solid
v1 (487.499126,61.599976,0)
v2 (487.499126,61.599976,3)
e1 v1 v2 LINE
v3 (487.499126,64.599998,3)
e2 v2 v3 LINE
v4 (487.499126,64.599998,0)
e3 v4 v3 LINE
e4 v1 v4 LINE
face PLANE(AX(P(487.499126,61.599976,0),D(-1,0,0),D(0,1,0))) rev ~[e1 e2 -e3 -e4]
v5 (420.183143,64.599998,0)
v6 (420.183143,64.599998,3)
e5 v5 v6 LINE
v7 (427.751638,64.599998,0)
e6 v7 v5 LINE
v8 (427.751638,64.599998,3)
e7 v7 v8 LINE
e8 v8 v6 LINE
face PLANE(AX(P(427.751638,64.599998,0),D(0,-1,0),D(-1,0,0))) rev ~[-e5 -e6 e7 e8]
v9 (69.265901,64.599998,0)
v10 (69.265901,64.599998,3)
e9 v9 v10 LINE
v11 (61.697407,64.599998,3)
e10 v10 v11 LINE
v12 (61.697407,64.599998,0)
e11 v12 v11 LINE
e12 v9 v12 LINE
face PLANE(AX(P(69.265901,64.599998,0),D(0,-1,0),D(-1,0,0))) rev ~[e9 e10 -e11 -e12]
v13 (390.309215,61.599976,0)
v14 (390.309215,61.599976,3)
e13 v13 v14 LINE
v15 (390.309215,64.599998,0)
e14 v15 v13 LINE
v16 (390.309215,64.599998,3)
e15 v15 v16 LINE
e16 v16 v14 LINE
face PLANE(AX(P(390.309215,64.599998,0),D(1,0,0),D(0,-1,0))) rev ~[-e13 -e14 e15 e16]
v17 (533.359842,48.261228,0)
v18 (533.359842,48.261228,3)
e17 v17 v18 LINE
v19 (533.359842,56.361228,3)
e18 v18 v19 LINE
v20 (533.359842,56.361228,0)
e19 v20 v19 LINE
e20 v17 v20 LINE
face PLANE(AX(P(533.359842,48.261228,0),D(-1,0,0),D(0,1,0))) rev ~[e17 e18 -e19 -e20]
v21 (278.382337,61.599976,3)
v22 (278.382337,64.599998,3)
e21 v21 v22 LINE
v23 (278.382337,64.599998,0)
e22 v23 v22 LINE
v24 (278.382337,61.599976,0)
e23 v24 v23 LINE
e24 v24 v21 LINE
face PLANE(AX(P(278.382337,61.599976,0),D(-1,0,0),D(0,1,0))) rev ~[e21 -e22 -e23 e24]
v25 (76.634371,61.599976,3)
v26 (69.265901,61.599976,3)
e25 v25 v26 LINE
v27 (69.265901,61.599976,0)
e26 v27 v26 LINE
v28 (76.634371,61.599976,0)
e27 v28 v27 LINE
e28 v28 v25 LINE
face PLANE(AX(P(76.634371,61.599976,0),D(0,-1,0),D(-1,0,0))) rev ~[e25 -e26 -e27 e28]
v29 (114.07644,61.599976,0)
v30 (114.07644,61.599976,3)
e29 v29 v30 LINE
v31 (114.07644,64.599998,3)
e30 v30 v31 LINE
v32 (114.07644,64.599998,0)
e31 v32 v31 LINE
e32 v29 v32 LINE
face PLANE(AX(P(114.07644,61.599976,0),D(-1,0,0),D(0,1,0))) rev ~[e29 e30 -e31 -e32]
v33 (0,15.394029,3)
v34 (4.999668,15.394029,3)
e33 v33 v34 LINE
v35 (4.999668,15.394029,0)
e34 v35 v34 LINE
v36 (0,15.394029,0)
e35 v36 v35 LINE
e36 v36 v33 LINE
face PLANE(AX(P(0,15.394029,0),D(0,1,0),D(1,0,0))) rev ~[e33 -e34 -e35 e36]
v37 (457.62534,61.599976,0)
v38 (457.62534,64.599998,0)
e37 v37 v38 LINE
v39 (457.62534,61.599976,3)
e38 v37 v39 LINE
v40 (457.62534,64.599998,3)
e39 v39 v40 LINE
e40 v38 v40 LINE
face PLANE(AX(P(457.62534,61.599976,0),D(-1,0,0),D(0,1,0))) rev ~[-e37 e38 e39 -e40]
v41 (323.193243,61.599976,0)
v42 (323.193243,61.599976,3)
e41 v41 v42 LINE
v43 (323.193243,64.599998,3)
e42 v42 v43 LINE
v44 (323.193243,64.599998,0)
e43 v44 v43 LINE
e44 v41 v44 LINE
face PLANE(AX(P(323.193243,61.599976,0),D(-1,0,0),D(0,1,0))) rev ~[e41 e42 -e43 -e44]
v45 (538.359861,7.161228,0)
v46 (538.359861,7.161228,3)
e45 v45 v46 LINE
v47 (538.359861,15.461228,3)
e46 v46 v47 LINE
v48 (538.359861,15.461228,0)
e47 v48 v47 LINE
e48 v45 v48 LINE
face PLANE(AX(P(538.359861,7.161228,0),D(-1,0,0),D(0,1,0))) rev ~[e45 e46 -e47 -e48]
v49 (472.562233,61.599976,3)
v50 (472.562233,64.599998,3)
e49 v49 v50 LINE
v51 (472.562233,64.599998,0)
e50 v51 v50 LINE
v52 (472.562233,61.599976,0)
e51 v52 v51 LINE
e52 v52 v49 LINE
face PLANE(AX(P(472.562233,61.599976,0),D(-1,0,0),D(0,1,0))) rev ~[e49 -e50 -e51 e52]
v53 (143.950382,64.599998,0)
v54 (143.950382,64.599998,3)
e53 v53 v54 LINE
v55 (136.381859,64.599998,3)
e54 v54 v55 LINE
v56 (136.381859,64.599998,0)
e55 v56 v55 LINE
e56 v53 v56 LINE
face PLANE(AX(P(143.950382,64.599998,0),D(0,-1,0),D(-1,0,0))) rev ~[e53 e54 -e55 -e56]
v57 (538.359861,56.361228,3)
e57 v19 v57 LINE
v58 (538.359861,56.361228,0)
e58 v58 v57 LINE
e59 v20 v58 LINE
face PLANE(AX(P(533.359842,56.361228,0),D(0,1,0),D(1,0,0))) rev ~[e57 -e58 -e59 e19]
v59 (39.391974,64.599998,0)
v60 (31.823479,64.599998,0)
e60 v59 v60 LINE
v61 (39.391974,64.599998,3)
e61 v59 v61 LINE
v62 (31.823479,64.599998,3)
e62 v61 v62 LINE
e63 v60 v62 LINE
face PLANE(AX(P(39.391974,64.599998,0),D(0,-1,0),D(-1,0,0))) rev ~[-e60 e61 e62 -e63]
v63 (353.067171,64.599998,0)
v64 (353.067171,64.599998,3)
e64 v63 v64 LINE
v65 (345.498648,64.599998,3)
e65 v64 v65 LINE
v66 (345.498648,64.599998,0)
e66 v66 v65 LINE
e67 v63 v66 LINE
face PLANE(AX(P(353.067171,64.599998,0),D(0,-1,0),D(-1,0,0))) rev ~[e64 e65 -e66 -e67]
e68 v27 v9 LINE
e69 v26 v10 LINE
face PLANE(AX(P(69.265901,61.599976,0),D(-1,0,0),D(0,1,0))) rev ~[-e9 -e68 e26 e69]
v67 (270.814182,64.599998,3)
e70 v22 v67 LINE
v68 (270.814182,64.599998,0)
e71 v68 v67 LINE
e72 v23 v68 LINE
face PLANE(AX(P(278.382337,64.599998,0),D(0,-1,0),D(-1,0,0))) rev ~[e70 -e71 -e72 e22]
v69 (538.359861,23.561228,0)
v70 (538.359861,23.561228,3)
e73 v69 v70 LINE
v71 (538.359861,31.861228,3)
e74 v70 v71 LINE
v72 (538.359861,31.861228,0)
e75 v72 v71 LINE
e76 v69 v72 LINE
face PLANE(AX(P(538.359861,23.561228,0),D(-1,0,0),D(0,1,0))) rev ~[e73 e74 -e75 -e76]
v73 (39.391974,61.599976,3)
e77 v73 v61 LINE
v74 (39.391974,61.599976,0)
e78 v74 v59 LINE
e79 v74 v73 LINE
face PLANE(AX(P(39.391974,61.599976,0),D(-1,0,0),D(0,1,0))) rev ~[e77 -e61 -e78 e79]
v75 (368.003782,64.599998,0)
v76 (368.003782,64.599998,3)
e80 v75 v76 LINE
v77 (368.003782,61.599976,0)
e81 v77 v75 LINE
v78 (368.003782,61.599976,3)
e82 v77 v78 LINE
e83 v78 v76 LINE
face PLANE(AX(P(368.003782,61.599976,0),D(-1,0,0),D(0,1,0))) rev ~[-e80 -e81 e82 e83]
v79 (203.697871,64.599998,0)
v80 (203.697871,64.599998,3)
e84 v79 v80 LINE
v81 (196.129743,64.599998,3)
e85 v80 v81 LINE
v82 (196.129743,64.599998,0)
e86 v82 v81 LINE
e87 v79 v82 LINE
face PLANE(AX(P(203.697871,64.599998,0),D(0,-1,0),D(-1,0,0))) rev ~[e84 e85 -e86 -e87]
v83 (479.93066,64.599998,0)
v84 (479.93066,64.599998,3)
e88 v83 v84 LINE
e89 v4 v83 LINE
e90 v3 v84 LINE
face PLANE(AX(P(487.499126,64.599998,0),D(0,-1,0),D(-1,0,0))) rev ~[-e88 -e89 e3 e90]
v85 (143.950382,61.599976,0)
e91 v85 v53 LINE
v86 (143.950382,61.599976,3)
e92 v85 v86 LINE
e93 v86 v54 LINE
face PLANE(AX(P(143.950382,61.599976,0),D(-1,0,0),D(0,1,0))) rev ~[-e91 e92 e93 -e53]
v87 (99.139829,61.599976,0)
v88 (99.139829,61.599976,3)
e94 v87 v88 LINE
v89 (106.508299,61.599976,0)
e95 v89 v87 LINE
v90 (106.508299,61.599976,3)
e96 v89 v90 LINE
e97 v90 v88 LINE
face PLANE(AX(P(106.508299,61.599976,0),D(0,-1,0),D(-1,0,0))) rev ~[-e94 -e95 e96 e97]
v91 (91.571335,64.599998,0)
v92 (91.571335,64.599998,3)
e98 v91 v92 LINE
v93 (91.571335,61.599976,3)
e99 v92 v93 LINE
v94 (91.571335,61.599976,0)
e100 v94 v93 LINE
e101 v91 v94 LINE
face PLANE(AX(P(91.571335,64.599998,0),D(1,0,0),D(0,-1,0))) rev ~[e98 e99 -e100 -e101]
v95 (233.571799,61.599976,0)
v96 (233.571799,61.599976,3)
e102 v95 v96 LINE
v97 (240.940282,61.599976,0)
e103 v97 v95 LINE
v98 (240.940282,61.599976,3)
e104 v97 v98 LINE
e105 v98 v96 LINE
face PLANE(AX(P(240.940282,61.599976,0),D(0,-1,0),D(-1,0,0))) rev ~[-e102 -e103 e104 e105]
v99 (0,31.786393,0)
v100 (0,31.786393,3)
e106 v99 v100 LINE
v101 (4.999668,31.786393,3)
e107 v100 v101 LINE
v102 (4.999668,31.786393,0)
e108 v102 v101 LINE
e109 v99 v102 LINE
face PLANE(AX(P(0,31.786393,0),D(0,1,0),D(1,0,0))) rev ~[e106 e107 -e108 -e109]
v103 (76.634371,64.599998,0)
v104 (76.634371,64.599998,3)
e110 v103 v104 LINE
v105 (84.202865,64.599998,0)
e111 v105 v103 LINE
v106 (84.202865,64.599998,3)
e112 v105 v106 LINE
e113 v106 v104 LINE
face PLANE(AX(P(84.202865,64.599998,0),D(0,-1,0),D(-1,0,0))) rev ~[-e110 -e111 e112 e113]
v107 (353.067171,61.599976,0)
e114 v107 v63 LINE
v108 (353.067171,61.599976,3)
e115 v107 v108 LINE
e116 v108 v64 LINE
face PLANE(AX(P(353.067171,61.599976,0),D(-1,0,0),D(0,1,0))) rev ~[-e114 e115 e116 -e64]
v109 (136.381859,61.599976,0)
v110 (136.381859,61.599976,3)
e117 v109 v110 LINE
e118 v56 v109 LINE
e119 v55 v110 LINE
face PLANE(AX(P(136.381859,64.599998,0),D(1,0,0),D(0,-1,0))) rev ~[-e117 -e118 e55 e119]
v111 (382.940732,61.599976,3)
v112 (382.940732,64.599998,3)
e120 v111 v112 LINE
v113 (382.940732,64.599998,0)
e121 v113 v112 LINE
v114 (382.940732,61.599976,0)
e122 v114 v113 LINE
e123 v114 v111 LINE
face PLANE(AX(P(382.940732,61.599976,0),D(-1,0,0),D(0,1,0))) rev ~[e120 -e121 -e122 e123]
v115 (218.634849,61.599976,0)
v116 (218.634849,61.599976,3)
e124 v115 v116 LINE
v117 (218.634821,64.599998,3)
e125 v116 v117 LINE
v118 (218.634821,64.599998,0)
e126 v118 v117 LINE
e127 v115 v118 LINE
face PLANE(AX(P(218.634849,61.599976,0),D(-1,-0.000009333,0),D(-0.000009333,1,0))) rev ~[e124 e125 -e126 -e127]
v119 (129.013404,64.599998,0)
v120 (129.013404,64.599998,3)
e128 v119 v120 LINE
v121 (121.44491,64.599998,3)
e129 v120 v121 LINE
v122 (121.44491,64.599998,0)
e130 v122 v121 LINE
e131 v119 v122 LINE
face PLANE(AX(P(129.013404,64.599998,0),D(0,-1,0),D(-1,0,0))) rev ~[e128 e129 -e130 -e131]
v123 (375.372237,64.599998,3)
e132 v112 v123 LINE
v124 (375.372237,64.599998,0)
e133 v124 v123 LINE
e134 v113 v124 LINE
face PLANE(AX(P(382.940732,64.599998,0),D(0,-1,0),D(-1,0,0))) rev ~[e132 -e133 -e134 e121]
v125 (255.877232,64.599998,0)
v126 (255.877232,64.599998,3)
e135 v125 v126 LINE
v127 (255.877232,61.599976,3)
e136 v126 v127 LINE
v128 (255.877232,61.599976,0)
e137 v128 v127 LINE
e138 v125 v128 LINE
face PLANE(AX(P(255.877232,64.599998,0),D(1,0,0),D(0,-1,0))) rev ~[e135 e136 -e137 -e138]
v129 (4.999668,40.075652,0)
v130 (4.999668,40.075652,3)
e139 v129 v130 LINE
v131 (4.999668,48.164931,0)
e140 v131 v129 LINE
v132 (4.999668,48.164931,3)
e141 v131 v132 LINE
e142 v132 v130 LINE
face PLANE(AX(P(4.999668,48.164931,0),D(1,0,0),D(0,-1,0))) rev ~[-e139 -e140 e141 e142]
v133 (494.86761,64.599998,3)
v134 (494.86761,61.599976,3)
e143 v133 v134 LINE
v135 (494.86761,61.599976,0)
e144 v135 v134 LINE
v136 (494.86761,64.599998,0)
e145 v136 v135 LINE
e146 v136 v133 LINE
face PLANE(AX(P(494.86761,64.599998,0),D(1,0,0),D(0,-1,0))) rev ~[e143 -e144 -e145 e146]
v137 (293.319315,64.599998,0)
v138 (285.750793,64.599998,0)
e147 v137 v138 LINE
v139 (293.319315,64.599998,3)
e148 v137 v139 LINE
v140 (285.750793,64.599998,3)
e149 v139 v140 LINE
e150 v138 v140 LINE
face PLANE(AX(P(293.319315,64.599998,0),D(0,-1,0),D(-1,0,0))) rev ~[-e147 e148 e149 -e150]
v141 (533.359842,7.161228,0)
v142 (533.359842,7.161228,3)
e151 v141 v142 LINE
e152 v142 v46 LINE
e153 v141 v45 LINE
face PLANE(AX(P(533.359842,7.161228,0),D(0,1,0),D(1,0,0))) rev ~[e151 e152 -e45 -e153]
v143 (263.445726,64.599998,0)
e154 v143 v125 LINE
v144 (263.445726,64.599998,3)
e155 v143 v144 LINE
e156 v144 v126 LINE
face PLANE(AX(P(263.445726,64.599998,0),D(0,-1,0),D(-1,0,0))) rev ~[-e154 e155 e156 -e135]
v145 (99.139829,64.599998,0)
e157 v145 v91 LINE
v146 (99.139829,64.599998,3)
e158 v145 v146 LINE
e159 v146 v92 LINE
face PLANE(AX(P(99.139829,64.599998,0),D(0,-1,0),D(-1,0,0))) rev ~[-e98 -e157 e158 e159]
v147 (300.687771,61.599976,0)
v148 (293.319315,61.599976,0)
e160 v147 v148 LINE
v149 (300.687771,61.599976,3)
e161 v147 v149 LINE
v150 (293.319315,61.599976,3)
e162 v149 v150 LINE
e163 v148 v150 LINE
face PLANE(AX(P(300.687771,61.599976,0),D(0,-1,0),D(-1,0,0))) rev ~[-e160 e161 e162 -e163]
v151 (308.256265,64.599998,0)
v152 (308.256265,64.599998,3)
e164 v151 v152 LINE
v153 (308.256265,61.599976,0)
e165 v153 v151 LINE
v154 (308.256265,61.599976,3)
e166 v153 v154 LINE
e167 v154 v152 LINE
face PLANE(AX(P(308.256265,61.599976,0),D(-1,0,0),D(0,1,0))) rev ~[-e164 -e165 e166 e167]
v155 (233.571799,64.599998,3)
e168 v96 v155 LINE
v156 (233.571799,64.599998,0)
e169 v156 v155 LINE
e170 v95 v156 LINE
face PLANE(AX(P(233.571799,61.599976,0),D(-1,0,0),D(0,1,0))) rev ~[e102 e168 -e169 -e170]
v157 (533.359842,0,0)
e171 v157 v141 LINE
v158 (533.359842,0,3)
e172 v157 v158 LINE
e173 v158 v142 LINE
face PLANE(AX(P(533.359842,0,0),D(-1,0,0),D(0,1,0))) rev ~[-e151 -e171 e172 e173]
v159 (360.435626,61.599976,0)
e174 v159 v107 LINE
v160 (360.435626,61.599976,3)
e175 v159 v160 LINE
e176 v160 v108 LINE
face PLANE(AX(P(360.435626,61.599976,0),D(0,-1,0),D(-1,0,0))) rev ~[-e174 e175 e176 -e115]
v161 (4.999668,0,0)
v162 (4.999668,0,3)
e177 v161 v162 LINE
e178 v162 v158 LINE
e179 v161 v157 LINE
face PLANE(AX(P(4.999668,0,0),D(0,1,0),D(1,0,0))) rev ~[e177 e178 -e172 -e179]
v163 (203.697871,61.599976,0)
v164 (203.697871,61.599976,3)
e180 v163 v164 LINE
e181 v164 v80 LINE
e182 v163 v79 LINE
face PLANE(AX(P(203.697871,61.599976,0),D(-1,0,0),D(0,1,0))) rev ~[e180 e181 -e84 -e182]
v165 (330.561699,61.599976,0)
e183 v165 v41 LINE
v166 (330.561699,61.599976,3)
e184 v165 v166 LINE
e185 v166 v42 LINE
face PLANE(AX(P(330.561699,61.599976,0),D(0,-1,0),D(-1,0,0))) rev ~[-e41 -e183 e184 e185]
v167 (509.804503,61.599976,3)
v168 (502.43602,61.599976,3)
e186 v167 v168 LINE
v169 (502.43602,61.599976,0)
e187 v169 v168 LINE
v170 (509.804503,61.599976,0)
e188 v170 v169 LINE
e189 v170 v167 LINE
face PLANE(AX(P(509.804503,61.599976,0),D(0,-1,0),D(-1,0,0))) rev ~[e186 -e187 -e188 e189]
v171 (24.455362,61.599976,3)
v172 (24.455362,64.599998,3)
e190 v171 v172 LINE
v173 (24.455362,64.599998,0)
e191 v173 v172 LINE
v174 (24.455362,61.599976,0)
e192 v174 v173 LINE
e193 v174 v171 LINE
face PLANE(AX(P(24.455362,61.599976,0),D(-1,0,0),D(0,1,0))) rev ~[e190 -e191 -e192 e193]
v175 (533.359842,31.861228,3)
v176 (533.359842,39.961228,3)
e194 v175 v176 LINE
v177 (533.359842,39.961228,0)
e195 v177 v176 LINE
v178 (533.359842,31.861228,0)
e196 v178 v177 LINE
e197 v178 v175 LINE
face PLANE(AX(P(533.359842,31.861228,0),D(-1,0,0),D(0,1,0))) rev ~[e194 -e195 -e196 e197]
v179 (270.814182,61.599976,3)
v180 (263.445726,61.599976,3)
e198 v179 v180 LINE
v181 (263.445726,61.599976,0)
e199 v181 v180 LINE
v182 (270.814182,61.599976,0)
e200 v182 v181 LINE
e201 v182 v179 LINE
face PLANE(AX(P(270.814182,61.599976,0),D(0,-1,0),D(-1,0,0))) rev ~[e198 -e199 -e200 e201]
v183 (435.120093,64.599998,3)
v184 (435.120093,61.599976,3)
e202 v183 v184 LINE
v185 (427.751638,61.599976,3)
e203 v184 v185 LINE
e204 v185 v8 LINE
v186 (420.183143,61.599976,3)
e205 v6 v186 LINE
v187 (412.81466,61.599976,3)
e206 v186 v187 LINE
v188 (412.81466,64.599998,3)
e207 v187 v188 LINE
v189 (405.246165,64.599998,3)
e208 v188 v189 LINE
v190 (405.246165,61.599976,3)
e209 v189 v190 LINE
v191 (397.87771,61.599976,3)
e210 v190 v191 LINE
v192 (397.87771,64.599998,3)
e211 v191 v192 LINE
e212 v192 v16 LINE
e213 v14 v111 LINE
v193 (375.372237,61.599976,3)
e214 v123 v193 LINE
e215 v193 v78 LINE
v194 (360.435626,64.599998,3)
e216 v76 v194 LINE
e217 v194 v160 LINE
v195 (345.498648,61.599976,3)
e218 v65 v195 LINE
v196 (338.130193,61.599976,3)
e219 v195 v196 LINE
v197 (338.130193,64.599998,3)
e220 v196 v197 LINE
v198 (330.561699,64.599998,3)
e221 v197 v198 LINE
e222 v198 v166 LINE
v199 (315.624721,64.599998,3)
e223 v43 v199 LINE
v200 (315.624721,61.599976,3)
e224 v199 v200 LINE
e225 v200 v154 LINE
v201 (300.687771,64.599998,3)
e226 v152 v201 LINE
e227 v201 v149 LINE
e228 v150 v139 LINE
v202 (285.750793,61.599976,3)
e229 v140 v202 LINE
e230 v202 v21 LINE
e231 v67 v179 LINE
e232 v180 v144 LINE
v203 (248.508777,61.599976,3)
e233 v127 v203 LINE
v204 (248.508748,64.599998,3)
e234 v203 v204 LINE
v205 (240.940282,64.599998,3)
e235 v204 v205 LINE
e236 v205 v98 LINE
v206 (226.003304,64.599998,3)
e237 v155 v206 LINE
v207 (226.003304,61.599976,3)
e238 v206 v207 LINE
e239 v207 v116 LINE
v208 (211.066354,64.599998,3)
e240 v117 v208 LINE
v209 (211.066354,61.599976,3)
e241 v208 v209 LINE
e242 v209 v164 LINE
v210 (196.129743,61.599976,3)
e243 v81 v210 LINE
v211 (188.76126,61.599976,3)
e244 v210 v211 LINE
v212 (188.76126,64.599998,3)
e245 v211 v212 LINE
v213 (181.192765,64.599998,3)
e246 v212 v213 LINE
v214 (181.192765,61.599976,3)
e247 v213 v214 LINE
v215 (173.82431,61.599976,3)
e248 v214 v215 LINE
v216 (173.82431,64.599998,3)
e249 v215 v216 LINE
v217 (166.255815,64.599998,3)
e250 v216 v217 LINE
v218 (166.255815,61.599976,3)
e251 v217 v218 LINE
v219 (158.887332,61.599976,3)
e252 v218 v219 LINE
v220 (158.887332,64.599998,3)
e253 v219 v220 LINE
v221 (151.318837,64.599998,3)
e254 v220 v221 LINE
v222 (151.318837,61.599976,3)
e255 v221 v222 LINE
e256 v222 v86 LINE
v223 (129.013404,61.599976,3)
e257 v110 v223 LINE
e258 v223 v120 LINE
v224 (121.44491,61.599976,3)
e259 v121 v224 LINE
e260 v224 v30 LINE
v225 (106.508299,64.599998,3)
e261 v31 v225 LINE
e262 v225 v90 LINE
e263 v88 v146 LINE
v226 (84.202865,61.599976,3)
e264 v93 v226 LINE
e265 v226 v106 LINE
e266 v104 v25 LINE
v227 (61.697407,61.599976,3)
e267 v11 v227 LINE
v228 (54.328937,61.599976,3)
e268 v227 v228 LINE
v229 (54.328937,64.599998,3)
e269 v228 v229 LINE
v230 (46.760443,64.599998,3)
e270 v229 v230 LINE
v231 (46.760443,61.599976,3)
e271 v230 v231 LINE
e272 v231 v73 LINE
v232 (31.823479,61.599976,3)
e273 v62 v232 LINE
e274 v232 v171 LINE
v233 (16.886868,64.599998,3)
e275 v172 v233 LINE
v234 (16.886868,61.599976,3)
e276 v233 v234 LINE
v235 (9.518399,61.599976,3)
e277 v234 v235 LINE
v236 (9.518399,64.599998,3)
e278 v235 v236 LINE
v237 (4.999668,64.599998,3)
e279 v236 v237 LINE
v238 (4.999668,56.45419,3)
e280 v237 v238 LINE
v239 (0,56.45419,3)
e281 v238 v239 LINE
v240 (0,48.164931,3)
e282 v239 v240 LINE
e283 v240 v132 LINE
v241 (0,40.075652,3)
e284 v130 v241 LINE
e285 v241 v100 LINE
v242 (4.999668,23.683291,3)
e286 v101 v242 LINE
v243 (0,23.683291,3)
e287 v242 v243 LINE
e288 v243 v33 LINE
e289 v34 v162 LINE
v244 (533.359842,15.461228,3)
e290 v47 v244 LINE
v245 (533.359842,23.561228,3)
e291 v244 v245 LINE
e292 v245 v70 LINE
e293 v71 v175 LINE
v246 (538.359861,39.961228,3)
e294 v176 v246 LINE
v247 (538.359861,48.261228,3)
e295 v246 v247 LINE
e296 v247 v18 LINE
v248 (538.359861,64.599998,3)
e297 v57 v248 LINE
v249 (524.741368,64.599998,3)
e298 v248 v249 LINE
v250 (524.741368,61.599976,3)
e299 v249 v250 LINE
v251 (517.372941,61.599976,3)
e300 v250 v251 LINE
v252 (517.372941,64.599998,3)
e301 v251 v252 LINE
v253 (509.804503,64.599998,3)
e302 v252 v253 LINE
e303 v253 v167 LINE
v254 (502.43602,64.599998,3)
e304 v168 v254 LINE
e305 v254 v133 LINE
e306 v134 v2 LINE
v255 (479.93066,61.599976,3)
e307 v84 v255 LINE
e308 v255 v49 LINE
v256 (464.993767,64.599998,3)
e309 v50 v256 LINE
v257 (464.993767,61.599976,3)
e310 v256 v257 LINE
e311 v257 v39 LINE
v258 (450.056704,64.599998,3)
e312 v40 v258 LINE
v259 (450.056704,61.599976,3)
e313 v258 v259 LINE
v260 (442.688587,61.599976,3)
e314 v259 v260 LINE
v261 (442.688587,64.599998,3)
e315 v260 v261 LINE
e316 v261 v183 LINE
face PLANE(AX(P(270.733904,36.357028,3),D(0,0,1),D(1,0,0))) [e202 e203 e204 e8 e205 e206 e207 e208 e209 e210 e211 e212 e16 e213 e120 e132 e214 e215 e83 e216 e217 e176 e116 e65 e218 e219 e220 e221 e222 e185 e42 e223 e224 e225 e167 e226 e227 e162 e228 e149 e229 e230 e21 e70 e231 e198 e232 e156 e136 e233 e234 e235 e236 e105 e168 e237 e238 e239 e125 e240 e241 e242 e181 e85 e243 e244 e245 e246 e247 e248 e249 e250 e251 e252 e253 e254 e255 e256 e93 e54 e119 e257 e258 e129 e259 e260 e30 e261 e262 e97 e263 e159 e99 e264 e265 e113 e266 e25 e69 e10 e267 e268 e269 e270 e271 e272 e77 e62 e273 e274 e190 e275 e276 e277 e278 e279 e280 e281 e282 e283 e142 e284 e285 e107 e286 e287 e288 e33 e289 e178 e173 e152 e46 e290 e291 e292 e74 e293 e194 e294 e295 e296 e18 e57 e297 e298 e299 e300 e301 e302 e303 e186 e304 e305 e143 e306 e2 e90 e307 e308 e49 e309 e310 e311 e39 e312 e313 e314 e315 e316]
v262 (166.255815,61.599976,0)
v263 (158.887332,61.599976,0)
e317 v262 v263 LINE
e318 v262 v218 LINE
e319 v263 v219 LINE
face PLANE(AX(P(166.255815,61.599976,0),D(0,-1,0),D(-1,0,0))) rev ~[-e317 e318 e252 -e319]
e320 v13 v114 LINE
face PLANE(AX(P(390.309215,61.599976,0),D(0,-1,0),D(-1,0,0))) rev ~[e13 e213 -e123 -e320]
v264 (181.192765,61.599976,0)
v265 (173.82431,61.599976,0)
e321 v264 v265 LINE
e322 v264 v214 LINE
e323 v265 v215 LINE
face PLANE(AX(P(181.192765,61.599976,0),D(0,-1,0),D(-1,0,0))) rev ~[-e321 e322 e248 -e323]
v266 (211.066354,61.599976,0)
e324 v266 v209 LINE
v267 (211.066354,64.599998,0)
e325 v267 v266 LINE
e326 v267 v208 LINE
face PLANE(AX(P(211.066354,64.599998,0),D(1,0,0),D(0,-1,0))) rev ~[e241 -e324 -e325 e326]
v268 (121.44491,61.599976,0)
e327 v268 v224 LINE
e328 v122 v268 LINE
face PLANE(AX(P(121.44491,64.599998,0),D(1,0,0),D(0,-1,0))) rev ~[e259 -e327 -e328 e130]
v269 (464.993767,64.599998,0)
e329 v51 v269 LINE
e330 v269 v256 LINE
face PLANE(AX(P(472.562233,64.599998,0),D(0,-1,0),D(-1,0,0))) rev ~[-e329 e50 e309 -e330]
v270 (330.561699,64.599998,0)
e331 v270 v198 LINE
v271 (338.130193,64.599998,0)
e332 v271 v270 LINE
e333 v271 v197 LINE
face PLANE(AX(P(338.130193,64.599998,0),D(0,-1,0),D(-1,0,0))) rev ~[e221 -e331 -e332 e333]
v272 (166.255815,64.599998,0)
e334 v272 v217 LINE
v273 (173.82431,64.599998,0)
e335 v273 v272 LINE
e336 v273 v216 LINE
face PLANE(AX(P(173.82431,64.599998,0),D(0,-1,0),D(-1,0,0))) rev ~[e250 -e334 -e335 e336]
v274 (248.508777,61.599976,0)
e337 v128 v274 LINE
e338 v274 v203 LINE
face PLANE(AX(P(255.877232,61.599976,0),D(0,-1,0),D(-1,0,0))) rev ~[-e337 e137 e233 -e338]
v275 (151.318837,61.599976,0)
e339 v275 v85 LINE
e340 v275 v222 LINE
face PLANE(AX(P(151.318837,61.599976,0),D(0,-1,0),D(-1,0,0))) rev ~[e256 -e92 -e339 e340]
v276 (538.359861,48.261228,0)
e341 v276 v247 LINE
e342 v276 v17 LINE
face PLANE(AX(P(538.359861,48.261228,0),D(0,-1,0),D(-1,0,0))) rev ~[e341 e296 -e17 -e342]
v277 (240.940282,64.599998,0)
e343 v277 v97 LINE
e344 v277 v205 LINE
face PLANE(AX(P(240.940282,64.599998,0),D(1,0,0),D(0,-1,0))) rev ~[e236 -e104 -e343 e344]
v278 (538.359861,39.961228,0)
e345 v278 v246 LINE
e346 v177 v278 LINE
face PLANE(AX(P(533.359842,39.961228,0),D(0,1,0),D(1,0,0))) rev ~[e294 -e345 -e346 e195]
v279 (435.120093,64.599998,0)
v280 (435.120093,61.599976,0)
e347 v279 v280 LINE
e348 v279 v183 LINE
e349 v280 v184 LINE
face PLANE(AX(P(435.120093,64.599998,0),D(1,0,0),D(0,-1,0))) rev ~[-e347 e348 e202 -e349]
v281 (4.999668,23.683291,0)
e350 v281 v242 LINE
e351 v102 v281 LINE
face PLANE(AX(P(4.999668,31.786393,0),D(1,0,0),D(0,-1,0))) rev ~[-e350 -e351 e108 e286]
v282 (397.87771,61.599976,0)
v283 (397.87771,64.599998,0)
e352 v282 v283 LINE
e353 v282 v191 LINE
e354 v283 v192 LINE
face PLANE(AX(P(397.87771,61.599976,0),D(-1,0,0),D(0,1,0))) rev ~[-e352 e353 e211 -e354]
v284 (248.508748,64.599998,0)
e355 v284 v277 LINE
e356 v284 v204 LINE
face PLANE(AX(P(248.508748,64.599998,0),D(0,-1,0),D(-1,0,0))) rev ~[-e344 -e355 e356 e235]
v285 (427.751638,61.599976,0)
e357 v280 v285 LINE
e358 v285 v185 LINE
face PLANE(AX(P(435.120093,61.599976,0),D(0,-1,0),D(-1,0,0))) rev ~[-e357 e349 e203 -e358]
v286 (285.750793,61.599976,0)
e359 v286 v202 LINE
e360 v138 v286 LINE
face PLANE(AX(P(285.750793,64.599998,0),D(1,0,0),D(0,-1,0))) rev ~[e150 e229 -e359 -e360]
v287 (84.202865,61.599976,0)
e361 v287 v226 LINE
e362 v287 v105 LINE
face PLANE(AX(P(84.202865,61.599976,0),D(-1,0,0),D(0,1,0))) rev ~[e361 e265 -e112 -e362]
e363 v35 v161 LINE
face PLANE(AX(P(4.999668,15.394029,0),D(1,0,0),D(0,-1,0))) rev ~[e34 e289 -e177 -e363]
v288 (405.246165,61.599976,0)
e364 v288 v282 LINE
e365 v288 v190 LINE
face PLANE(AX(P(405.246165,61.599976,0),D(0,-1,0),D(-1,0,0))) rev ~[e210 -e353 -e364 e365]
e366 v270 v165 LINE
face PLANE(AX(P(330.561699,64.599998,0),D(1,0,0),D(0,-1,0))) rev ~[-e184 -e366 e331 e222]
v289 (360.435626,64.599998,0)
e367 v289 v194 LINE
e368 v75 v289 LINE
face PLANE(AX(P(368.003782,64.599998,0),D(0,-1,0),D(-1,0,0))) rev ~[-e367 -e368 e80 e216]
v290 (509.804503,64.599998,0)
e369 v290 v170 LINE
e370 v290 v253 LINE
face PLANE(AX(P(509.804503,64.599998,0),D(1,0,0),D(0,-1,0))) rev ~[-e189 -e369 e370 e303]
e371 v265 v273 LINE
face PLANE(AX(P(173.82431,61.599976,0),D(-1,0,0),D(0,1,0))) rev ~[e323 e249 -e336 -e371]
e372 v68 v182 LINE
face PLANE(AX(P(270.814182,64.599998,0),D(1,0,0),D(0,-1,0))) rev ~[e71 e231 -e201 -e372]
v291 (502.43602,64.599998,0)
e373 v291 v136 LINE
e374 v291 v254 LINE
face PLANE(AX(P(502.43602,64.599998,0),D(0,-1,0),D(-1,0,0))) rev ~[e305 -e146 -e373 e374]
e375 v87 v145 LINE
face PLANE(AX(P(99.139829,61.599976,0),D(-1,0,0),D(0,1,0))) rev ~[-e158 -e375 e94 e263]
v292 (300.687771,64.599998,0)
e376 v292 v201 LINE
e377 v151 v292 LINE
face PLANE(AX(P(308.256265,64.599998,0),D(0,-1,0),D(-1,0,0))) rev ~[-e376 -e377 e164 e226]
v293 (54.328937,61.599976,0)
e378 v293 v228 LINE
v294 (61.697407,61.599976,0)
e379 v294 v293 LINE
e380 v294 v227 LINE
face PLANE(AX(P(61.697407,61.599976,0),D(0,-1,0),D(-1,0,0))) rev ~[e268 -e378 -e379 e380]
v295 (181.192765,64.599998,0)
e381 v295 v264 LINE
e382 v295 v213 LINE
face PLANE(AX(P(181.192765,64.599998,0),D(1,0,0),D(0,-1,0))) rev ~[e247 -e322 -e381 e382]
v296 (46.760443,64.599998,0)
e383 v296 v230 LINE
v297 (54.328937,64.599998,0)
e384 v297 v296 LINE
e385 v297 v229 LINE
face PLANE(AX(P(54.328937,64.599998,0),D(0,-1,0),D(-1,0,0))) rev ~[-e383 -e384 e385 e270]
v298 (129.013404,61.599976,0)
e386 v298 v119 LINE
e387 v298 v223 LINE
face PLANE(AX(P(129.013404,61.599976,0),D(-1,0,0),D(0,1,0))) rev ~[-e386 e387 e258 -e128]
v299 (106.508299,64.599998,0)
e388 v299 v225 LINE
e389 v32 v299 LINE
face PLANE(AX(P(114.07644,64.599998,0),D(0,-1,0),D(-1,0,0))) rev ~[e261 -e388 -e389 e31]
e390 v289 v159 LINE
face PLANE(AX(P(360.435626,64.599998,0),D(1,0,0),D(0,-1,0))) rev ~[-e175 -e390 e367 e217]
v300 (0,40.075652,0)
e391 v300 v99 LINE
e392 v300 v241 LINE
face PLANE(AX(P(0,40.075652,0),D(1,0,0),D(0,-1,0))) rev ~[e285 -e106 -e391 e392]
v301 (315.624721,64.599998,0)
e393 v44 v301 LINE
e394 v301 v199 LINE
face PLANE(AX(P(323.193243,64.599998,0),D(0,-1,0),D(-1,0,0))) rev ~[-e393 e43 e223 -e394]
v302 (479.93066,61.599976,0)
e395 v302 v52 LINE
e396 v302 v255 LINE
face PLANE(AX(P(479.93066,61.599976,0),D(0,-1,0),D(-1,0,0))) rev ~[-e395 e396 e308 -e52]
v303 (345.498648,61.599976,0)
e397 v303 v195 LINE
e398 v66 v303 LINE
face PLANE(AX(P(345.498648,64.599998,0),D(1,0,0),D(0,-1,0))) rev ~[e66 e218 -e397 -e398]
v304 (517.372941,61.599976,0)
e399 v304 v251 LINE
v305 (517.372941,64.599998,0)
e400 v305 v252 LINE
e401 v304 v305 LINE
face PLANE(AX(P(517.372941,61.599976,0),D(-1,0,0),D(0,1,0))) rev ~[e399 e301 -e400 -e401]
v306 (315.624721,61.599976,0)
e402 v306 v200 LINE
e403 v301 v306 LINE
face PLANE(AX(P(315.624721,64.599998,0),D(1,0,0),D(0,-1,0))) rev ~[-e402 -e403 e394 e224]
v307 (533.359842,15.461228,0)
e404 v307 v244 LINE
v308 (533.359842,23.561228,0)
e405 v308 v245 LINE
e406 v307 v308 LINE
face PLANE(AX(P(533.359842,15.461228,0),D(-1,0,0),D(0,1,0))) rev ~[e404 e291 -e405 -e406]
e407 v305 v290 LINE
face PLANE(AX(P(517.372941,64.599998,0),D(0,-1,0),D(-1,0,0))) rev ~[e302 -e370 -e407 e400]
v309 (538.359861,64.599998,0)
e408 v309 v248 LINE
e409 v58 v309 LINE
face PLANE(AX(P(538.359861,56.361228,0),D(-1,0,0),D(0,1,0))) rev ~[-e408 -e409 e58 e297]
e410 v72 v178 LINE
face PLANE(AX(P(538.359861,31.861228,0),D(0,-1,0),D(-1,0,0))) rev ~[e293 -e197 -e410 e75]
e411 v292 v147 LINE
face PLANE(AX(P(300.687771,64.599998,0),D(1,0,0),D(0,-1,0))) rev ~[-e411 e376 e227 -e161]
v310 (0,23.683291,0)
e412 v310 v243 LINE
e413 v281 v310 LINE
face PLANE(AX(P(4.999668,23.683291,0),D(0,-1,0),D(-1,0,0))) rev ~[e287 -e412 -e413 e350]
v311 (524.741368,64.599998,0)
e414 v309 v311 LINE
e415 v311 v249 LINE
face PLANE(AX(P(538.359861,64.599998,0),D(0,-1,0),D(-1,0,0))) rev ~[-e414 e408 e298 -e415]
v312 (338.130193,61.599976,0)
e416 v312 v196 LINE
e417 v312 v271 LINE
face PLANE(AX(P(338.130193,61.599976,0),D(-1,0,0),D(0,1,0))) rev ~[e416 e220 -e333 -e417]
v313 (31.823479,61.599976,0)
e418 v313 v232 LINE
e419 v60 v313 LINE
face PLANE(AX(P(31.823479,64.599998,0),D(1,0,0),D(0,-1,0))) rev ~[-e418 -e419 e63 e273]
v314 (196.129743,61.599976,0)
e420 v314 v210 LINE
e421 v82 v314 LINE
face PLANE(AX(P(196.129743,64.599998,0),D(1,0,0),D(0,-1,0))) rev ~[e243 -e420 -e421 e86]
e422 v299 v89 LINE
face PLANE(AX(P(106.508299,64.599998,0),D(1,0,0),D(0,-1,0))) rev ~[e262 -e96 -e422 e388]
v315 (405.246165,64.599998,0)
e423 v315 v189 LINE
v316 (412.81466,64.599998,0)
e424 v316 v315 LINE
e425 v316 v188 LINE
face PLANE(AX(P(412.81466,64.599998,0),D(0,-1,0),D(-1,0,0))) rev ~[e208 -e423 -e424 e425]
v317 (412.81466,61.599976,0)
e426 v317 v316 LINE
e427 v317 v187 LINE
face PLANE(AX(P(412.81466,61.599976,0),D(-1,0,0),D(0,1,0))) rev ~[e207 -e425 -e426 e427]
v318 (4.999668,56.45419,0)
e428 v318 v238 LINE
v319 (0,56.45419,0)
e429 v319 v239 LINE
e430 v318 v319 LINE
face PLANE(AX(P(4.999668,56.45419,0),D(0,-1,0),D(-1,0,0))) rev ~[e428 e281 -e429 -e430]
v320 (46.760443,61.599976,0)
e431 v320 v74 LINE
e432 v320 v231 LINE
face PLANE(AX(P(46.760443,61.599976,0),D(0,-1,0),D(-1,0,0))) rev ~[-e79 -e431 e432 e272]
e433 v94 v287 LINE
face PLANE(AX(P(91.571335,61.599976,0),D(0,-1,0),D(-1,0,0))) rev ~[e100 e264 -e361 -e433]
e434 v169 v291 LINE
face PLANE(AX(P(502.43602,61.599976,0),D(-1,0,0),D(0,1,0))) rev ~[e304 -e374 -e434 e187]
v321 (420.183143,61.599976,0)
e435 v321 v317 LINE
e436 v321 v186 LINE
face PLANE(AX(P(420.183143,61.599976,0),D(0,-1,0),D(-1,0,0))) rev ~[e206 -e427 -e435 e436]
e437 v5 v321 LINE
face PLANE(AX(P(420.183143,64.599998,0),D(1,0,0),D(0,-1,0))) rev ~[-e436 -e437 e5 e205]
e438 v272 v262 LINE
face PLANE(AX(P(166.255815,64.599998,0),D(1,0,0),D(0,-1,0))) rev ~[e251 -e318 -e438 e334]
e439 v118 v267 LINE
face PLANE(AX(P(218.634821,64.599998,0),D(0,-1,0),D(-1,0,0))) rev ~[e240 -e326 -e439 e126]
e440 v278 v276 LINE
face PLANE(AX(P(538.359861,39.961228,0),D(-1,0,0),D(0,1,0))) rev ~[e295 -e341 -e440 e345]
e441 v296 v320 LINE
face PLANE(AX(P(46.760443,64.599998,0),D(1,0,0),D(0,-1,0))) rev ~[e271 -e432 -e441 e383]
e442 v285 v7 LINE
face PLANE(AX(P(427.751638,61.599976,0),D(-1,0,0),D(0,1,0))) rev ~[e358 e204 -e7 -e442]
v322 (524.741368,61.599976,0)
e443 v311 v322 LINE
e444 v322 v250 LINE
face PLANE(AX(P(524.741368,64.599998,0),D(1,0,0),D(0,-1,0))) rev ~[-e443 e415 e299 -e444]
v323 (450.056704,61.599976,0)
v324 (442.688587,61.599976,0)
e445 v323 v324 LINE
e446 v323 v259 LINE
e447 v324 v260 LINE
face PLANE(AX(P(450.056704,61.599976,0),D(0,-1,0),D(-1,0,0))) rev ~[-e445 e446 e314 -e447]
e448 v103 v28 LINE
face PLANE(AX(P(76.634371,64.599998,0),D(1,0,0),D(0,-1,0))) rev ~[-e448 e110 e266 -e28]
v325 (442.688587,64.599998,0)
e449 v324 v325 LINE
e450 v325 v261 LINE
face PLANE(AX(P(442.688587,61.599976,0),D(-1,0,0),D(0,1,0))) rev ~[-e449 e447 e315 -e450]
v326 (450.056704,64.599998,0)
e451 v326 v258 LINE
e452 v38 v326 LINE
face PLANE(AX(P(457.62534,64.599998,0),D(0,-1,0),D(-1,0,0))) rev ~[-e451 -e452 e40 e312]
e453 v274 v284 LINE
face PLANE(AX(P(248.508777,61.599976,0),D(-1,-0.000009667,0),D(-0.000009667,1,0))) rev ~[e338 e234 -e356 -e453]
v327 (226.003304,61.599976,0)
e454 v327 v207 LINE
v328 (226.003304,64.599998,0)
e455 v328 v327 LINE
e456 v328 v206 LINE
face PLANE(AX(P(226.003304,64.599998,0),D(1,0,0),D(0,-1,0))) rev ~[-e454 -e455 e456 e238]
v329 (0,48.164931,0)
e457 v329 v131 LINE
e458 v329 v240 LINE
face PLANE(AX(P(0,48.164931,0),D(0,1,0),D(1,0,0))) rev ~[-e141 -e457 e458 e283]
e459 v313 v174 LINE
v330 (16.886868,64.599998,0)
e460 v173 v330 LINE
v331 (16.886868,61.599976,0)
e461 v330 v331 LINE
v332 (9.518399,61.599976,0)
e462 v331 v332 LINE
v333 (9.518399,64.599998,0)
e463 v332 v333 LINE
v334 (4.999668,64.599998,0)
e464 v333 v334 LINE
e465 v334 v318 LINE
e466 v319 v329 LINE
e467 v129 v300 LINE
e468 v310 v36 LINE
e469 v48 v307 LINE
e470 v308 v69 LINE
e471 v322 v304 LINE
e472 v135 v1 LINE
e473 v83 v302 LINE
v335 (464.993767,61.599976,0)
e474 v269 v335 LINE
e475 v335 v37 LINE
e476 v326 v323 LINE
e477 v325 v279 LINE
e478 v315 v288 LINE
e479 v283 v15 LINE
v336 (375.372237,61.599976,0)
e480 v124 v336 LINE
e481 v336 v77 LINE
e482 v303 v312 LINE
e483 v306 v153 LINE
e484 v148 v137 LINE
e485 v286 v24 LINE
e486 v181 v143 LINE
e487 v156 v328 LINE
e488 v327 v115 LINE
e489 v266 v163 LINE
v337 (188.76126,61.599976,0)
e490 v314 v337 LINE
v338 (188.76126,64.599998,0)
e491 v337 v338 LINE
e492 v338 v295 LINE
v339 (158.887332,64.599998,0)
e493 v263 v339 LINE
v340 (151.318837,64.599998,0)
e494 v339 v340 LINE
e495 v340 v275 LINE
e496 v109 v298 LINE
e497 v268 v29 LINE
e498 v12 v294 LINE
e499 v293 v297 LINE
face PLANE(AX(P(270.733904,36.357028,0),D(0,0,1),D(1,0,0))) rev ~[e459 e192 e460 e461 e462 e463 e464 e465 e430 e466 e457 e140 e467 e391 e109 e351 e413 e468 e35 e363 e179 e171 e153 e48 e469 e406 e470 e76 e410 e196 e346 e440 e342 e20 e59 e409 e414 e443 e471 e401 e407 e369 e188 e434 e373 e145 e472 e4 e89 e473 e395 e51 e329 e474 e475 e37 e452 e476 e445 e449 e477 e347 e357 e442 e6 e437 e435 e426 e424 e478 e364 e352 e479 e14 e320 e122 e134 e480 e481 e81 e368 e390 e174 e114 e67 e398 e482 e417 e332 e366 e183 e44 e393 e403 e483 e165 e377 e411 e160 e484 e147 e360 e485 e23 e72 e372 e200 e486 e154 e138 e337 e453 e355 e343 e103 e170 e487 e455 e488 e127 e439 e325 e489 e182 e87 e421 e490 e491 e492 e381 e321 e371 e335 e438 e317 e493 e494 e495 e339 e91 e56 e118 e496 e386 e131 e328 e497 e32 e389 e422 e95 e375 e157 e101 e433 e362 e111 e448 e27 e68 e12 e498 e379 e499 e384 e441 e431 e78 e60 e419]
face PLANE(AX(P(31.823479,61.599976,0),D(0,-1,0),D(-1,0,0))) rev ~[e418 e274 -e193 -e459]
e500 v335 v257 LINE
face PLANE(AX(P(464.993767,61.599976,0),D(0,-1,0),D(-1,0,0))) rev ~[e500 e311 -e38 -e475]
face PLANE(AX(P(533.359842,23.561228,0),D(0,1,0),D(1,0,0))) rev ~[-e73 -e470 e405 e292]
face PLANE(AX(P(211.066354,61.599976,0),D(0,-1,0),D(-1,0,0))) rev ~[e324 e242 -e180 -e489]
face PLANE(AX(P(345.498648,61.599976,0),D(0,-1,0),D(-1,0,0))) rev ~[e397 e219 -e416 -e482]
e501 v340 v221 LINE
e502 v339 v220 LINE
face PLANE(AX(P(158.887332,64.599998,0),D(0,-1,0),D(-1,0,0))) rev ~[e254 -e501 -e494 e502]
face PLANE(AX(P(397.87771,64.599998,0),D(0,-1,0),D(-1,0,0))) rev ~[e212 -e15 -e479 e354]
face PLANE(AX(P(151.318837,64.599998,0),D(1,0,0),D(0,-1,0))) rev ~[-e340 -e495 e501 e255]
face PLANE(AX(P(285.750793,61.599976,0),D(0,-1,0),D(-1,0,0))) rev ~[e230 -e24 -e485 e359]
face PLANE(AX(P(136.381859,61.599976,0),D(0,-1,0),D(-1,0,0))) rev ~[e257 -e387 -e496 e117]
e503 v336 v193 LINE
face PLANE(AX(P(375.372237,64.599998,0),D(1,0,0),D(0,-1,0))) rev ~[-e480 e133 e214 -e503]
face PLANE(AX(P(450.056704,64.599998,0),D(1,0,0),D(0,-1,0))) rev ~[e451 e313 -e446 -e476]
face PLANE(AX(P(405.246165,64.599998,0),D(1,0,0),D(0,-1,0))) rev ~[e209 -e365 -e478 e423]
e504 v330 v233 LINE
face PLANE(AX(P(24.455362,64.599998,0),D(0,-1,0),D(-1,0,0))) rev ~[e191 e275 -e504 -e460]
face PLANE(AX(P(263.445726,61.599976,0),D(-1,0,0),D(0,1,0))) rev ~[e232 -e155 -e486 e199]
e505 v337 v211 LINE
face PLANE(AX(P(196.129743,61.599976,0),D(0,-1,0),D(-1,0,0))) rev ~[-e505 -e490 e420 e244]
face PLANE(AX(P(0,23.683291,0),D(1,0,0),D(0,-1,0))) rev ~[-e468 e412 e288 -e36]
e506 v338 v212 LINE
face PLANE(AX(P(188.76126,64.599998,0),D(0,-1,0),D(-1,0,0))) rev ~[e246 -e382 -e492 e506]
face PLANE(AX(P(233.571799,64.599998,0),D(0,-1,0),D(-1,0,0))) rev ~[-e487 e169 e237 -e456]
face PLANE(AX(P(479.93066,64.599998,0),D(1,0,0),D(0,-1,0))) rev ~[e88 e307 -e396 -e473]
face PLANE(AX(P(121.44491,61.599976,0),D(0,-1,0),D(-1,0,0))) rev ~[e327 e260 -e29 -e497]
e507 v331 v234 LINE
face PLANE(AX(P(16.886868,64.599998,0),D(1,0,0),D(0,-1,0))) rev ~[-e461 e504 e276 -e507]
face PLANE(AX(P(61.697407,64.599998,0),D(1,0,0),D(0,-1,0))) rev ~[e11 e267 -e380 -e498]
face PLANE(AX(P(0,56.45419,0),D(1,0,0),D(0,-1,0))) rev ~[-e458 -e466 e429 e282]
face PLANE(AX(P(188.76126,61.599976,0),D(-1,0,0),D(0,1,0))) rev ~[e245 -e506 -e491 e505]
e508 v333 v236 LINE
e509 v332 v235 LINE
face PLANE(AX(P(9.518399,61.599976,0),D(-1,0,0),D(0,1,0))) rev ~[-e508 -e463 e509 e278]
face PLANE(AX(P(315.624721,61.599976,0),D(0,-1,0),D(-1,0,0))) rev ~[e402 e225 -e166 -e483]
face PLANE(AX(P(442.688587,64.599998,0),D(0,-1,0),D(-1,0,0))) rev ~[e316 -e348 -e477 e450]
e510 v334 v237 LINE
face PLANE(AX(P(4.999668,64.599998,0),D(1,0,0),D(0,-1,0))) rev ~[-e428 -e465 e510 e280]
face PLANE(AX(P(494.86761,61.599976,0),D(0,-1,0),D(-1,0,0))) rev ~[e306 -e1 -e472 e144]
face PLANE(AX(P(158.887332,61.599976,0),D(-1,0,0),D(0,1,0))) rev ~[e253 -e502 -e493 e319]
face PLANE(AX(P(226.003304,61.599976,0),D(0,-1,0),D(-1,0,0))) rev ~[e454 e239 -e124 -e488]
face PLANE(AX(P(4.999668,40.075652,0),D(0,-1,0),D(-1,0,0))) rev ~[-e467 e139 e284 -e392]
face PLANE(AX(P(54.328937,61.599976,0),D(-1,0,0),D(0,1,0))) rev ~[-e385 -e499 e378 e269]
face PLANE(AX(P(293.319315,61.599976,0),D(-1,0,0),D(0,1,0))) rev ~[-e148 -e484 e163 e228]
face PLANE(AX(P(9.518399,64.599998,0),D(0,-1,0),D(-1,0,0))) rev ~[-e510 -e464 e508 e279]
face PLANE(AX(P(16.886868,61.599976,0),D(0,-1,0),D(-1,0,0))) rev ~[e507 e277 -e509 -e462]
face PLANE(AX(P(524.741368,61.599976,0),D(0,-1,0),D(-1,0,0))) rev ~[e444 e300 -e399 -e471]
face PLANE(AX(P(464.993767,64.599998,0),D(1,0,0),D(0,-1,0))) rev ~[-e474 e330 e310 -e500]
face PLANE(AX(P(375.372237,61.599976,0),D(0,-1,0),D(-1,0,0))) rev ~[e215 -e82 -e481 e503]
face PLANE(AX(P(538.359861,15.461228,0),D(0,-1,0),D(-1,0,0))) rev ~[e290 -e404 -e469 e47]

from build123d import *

# Parameters (mm, degrees)
BOSS_EXTRUDE1_DEPTH = 3


with BuildPart() as part:
    # Sketch1 → Boss-Extrude1 (new body)
    with BuildSketch(Plane.XY):
        Polygon((4.999668, 15.394029), (4.999668, 0), (533.359842, 0), (533.359842, 7.161228), (538.359861, 7.161228), (538.359861, 15.461228), (533.359842, 15.461228), (533.359842, 23.561228), (538.359861, 23.561228), (538.359861, 31.861228), (533.359842, 31.861228), (533.359842, 39.961228), (538.359861, 39.961228), (538.359861, 48.261228), (533.359842, 48.261228), (533.359842, 56.361228), (538.359861, 56.361228), (538.359861, 64.599998), (524.741368, 64.599998), (524.741368, 61.599976), (517.372941, 61.599976), (517.372941, 64.599998), (509.804503, 64.599998), (509.804503, 61.599976), (502.43602, 61.599976), (502.43602, 64.599998), (494.86761, 64.599998), (494.86761, 61.599976), (487.499126, 61.599976), (487.499126, 64.599998), (479.93066, 64.599998), (479.93066, 61.599976), (472.562233, 61.599976), (472.562233, 64.599998), (464.993767, 64.599998), (464.993767, 61.599976), (457.62534, 61.599976), (457.62534, 64.599998), (450.056704, 64.599998), (450.056704, 61.599976), (442.688587, 61.599976), (442.688587, 64.599998), (435.120093, 64.599998), (435.120093, 61.599976), (427.751638, 61.599976), (427.751638, 64.599998), (420.183143, 64.599998), (420.183143, 61.599976), (412.81466, 61.599976), (412.81466, 64.599998), (405.246165, 64.599998), (405.246165, 61.599976), (397.87771, 61.599976), (397.87771, 64.599998), (390.309215, 64.599998), (390.309215, 61.599976), (382.940732, 61.599976), (382.940732, 64.599998), (375.372237, 64.599998), (375.372237, 61.599976), (368.003782, 61.599976), (368.003782, 64.599998), (360.435626, 64.599998), (360.435626, 61.599976), (353.067171, 61.599976), (353.067171, 64.599998), (345.498648, 64.599998), (345.498648, 61.599976), (338.130193, 61.599976), (338.130193, 64.599998), (330.561699, 64.599998), (330.561699, 61.599976), (323.193243, 61.599976), (323.193243, 64.599998), (315.624721, 64.599998), (315.624721, 61.599976), (308.256265, 61.599976), (308.256265, 64.599998), (300.687771, 64.599998), (300.687771, 61.599976), (293.319315, 61.599976), (293.319315, 64.599998), (285.750793, 64.599998), (285.750793, 61.599976), (278.382337, 61.599976), (278.382337, 64.599998), (270.814182, 64.599998), (270.814182, 61.599976), (263.445726, 61.599976), (263.445726, 64.599998), (255.877232, 64.599998), (255.877232, 61.599976), (248.508777, 61.599976), (248.508748, 64.599998), (240.940282, 64.599998), (240.940282, 61.599976), (233.571799, 61.599976), (233.571799, 64.599998), (226.003304, 64.599998), (226.003304, 61.599976), (218.634849, 61.599976), (218.634821, 64.599998), (211.066354, 64.599998), (211.066354, 61.599976), (203.697871, 61.599976), (203.697871, 64.599998), (196.129743, 64.599998), (196.129743, 61.599976), (188.76126, 61.599976), (188.76126, 64.599998), (181.192765, 64.599998), (181.192765, 61.599976), (173.82431, 61.599976), (173.82431, 64.599998), (166.255815, 64.599998), (166.255815, 61.599976), (158.887332, 61.599976), (158.887332, 64.599998), (151.318837, 64.599998), (151.318837, 61.599976), (143.950382, 61.599976), (143.950382, 64.599998), (136.381859, 64.599998), (136.381859, 61.599976), (129.013404, 61.599976), (129.013404, 64.599998), (121.44491, 64.599998), (121.44491, 61.599976), (114.07644, 61.599976), (114.07644, 64.599998), (106.508299, 64.599998), (106.508299, 61.599976), (99.139829, 61.599976), (99.139829, 64.599998), (91.571335, 64.599998), (91.571335, 61.599976), (84.202865, 61.599976), (84.202865, 64.599998), (76.634371, 64.599998), (76.634371, 61.599976), (69.265901, 61.599976), (69.265901, 64.599998), (61.697407, 64.599998), (61.697407, 61.599976), (54.328937, 61.599976), (54.328937, 64.599998), (46.760443, 64.599998), (46.760443, 61.599976), (39.391974, 61.599976), (39.391974, 64.599998), (31.823479, 64.599998), (31.823479, 61.599976), (24.455362, 61.599976), (24.455362, 64.599998), (16.886868, 64.599998), (16.886868, 61.599976), (9.518399, 61.599976), (9.518399, 64.599998), (4.999668, 64.599998), (4.999668, 56.45419), (0, 56.45419), (0, 48.164931), (4.999668, 48.164931), (4.999668, 40.075652), (0, 40.075652), (0, 31.786393), (4.999668, 31.786393), (4.999668, 23.683291), (0, 23.683291), (0, 15.394029), align=None)
    extrude(amount=BOSS_EXTRUDE1_DEPTH)


solid = part.part
